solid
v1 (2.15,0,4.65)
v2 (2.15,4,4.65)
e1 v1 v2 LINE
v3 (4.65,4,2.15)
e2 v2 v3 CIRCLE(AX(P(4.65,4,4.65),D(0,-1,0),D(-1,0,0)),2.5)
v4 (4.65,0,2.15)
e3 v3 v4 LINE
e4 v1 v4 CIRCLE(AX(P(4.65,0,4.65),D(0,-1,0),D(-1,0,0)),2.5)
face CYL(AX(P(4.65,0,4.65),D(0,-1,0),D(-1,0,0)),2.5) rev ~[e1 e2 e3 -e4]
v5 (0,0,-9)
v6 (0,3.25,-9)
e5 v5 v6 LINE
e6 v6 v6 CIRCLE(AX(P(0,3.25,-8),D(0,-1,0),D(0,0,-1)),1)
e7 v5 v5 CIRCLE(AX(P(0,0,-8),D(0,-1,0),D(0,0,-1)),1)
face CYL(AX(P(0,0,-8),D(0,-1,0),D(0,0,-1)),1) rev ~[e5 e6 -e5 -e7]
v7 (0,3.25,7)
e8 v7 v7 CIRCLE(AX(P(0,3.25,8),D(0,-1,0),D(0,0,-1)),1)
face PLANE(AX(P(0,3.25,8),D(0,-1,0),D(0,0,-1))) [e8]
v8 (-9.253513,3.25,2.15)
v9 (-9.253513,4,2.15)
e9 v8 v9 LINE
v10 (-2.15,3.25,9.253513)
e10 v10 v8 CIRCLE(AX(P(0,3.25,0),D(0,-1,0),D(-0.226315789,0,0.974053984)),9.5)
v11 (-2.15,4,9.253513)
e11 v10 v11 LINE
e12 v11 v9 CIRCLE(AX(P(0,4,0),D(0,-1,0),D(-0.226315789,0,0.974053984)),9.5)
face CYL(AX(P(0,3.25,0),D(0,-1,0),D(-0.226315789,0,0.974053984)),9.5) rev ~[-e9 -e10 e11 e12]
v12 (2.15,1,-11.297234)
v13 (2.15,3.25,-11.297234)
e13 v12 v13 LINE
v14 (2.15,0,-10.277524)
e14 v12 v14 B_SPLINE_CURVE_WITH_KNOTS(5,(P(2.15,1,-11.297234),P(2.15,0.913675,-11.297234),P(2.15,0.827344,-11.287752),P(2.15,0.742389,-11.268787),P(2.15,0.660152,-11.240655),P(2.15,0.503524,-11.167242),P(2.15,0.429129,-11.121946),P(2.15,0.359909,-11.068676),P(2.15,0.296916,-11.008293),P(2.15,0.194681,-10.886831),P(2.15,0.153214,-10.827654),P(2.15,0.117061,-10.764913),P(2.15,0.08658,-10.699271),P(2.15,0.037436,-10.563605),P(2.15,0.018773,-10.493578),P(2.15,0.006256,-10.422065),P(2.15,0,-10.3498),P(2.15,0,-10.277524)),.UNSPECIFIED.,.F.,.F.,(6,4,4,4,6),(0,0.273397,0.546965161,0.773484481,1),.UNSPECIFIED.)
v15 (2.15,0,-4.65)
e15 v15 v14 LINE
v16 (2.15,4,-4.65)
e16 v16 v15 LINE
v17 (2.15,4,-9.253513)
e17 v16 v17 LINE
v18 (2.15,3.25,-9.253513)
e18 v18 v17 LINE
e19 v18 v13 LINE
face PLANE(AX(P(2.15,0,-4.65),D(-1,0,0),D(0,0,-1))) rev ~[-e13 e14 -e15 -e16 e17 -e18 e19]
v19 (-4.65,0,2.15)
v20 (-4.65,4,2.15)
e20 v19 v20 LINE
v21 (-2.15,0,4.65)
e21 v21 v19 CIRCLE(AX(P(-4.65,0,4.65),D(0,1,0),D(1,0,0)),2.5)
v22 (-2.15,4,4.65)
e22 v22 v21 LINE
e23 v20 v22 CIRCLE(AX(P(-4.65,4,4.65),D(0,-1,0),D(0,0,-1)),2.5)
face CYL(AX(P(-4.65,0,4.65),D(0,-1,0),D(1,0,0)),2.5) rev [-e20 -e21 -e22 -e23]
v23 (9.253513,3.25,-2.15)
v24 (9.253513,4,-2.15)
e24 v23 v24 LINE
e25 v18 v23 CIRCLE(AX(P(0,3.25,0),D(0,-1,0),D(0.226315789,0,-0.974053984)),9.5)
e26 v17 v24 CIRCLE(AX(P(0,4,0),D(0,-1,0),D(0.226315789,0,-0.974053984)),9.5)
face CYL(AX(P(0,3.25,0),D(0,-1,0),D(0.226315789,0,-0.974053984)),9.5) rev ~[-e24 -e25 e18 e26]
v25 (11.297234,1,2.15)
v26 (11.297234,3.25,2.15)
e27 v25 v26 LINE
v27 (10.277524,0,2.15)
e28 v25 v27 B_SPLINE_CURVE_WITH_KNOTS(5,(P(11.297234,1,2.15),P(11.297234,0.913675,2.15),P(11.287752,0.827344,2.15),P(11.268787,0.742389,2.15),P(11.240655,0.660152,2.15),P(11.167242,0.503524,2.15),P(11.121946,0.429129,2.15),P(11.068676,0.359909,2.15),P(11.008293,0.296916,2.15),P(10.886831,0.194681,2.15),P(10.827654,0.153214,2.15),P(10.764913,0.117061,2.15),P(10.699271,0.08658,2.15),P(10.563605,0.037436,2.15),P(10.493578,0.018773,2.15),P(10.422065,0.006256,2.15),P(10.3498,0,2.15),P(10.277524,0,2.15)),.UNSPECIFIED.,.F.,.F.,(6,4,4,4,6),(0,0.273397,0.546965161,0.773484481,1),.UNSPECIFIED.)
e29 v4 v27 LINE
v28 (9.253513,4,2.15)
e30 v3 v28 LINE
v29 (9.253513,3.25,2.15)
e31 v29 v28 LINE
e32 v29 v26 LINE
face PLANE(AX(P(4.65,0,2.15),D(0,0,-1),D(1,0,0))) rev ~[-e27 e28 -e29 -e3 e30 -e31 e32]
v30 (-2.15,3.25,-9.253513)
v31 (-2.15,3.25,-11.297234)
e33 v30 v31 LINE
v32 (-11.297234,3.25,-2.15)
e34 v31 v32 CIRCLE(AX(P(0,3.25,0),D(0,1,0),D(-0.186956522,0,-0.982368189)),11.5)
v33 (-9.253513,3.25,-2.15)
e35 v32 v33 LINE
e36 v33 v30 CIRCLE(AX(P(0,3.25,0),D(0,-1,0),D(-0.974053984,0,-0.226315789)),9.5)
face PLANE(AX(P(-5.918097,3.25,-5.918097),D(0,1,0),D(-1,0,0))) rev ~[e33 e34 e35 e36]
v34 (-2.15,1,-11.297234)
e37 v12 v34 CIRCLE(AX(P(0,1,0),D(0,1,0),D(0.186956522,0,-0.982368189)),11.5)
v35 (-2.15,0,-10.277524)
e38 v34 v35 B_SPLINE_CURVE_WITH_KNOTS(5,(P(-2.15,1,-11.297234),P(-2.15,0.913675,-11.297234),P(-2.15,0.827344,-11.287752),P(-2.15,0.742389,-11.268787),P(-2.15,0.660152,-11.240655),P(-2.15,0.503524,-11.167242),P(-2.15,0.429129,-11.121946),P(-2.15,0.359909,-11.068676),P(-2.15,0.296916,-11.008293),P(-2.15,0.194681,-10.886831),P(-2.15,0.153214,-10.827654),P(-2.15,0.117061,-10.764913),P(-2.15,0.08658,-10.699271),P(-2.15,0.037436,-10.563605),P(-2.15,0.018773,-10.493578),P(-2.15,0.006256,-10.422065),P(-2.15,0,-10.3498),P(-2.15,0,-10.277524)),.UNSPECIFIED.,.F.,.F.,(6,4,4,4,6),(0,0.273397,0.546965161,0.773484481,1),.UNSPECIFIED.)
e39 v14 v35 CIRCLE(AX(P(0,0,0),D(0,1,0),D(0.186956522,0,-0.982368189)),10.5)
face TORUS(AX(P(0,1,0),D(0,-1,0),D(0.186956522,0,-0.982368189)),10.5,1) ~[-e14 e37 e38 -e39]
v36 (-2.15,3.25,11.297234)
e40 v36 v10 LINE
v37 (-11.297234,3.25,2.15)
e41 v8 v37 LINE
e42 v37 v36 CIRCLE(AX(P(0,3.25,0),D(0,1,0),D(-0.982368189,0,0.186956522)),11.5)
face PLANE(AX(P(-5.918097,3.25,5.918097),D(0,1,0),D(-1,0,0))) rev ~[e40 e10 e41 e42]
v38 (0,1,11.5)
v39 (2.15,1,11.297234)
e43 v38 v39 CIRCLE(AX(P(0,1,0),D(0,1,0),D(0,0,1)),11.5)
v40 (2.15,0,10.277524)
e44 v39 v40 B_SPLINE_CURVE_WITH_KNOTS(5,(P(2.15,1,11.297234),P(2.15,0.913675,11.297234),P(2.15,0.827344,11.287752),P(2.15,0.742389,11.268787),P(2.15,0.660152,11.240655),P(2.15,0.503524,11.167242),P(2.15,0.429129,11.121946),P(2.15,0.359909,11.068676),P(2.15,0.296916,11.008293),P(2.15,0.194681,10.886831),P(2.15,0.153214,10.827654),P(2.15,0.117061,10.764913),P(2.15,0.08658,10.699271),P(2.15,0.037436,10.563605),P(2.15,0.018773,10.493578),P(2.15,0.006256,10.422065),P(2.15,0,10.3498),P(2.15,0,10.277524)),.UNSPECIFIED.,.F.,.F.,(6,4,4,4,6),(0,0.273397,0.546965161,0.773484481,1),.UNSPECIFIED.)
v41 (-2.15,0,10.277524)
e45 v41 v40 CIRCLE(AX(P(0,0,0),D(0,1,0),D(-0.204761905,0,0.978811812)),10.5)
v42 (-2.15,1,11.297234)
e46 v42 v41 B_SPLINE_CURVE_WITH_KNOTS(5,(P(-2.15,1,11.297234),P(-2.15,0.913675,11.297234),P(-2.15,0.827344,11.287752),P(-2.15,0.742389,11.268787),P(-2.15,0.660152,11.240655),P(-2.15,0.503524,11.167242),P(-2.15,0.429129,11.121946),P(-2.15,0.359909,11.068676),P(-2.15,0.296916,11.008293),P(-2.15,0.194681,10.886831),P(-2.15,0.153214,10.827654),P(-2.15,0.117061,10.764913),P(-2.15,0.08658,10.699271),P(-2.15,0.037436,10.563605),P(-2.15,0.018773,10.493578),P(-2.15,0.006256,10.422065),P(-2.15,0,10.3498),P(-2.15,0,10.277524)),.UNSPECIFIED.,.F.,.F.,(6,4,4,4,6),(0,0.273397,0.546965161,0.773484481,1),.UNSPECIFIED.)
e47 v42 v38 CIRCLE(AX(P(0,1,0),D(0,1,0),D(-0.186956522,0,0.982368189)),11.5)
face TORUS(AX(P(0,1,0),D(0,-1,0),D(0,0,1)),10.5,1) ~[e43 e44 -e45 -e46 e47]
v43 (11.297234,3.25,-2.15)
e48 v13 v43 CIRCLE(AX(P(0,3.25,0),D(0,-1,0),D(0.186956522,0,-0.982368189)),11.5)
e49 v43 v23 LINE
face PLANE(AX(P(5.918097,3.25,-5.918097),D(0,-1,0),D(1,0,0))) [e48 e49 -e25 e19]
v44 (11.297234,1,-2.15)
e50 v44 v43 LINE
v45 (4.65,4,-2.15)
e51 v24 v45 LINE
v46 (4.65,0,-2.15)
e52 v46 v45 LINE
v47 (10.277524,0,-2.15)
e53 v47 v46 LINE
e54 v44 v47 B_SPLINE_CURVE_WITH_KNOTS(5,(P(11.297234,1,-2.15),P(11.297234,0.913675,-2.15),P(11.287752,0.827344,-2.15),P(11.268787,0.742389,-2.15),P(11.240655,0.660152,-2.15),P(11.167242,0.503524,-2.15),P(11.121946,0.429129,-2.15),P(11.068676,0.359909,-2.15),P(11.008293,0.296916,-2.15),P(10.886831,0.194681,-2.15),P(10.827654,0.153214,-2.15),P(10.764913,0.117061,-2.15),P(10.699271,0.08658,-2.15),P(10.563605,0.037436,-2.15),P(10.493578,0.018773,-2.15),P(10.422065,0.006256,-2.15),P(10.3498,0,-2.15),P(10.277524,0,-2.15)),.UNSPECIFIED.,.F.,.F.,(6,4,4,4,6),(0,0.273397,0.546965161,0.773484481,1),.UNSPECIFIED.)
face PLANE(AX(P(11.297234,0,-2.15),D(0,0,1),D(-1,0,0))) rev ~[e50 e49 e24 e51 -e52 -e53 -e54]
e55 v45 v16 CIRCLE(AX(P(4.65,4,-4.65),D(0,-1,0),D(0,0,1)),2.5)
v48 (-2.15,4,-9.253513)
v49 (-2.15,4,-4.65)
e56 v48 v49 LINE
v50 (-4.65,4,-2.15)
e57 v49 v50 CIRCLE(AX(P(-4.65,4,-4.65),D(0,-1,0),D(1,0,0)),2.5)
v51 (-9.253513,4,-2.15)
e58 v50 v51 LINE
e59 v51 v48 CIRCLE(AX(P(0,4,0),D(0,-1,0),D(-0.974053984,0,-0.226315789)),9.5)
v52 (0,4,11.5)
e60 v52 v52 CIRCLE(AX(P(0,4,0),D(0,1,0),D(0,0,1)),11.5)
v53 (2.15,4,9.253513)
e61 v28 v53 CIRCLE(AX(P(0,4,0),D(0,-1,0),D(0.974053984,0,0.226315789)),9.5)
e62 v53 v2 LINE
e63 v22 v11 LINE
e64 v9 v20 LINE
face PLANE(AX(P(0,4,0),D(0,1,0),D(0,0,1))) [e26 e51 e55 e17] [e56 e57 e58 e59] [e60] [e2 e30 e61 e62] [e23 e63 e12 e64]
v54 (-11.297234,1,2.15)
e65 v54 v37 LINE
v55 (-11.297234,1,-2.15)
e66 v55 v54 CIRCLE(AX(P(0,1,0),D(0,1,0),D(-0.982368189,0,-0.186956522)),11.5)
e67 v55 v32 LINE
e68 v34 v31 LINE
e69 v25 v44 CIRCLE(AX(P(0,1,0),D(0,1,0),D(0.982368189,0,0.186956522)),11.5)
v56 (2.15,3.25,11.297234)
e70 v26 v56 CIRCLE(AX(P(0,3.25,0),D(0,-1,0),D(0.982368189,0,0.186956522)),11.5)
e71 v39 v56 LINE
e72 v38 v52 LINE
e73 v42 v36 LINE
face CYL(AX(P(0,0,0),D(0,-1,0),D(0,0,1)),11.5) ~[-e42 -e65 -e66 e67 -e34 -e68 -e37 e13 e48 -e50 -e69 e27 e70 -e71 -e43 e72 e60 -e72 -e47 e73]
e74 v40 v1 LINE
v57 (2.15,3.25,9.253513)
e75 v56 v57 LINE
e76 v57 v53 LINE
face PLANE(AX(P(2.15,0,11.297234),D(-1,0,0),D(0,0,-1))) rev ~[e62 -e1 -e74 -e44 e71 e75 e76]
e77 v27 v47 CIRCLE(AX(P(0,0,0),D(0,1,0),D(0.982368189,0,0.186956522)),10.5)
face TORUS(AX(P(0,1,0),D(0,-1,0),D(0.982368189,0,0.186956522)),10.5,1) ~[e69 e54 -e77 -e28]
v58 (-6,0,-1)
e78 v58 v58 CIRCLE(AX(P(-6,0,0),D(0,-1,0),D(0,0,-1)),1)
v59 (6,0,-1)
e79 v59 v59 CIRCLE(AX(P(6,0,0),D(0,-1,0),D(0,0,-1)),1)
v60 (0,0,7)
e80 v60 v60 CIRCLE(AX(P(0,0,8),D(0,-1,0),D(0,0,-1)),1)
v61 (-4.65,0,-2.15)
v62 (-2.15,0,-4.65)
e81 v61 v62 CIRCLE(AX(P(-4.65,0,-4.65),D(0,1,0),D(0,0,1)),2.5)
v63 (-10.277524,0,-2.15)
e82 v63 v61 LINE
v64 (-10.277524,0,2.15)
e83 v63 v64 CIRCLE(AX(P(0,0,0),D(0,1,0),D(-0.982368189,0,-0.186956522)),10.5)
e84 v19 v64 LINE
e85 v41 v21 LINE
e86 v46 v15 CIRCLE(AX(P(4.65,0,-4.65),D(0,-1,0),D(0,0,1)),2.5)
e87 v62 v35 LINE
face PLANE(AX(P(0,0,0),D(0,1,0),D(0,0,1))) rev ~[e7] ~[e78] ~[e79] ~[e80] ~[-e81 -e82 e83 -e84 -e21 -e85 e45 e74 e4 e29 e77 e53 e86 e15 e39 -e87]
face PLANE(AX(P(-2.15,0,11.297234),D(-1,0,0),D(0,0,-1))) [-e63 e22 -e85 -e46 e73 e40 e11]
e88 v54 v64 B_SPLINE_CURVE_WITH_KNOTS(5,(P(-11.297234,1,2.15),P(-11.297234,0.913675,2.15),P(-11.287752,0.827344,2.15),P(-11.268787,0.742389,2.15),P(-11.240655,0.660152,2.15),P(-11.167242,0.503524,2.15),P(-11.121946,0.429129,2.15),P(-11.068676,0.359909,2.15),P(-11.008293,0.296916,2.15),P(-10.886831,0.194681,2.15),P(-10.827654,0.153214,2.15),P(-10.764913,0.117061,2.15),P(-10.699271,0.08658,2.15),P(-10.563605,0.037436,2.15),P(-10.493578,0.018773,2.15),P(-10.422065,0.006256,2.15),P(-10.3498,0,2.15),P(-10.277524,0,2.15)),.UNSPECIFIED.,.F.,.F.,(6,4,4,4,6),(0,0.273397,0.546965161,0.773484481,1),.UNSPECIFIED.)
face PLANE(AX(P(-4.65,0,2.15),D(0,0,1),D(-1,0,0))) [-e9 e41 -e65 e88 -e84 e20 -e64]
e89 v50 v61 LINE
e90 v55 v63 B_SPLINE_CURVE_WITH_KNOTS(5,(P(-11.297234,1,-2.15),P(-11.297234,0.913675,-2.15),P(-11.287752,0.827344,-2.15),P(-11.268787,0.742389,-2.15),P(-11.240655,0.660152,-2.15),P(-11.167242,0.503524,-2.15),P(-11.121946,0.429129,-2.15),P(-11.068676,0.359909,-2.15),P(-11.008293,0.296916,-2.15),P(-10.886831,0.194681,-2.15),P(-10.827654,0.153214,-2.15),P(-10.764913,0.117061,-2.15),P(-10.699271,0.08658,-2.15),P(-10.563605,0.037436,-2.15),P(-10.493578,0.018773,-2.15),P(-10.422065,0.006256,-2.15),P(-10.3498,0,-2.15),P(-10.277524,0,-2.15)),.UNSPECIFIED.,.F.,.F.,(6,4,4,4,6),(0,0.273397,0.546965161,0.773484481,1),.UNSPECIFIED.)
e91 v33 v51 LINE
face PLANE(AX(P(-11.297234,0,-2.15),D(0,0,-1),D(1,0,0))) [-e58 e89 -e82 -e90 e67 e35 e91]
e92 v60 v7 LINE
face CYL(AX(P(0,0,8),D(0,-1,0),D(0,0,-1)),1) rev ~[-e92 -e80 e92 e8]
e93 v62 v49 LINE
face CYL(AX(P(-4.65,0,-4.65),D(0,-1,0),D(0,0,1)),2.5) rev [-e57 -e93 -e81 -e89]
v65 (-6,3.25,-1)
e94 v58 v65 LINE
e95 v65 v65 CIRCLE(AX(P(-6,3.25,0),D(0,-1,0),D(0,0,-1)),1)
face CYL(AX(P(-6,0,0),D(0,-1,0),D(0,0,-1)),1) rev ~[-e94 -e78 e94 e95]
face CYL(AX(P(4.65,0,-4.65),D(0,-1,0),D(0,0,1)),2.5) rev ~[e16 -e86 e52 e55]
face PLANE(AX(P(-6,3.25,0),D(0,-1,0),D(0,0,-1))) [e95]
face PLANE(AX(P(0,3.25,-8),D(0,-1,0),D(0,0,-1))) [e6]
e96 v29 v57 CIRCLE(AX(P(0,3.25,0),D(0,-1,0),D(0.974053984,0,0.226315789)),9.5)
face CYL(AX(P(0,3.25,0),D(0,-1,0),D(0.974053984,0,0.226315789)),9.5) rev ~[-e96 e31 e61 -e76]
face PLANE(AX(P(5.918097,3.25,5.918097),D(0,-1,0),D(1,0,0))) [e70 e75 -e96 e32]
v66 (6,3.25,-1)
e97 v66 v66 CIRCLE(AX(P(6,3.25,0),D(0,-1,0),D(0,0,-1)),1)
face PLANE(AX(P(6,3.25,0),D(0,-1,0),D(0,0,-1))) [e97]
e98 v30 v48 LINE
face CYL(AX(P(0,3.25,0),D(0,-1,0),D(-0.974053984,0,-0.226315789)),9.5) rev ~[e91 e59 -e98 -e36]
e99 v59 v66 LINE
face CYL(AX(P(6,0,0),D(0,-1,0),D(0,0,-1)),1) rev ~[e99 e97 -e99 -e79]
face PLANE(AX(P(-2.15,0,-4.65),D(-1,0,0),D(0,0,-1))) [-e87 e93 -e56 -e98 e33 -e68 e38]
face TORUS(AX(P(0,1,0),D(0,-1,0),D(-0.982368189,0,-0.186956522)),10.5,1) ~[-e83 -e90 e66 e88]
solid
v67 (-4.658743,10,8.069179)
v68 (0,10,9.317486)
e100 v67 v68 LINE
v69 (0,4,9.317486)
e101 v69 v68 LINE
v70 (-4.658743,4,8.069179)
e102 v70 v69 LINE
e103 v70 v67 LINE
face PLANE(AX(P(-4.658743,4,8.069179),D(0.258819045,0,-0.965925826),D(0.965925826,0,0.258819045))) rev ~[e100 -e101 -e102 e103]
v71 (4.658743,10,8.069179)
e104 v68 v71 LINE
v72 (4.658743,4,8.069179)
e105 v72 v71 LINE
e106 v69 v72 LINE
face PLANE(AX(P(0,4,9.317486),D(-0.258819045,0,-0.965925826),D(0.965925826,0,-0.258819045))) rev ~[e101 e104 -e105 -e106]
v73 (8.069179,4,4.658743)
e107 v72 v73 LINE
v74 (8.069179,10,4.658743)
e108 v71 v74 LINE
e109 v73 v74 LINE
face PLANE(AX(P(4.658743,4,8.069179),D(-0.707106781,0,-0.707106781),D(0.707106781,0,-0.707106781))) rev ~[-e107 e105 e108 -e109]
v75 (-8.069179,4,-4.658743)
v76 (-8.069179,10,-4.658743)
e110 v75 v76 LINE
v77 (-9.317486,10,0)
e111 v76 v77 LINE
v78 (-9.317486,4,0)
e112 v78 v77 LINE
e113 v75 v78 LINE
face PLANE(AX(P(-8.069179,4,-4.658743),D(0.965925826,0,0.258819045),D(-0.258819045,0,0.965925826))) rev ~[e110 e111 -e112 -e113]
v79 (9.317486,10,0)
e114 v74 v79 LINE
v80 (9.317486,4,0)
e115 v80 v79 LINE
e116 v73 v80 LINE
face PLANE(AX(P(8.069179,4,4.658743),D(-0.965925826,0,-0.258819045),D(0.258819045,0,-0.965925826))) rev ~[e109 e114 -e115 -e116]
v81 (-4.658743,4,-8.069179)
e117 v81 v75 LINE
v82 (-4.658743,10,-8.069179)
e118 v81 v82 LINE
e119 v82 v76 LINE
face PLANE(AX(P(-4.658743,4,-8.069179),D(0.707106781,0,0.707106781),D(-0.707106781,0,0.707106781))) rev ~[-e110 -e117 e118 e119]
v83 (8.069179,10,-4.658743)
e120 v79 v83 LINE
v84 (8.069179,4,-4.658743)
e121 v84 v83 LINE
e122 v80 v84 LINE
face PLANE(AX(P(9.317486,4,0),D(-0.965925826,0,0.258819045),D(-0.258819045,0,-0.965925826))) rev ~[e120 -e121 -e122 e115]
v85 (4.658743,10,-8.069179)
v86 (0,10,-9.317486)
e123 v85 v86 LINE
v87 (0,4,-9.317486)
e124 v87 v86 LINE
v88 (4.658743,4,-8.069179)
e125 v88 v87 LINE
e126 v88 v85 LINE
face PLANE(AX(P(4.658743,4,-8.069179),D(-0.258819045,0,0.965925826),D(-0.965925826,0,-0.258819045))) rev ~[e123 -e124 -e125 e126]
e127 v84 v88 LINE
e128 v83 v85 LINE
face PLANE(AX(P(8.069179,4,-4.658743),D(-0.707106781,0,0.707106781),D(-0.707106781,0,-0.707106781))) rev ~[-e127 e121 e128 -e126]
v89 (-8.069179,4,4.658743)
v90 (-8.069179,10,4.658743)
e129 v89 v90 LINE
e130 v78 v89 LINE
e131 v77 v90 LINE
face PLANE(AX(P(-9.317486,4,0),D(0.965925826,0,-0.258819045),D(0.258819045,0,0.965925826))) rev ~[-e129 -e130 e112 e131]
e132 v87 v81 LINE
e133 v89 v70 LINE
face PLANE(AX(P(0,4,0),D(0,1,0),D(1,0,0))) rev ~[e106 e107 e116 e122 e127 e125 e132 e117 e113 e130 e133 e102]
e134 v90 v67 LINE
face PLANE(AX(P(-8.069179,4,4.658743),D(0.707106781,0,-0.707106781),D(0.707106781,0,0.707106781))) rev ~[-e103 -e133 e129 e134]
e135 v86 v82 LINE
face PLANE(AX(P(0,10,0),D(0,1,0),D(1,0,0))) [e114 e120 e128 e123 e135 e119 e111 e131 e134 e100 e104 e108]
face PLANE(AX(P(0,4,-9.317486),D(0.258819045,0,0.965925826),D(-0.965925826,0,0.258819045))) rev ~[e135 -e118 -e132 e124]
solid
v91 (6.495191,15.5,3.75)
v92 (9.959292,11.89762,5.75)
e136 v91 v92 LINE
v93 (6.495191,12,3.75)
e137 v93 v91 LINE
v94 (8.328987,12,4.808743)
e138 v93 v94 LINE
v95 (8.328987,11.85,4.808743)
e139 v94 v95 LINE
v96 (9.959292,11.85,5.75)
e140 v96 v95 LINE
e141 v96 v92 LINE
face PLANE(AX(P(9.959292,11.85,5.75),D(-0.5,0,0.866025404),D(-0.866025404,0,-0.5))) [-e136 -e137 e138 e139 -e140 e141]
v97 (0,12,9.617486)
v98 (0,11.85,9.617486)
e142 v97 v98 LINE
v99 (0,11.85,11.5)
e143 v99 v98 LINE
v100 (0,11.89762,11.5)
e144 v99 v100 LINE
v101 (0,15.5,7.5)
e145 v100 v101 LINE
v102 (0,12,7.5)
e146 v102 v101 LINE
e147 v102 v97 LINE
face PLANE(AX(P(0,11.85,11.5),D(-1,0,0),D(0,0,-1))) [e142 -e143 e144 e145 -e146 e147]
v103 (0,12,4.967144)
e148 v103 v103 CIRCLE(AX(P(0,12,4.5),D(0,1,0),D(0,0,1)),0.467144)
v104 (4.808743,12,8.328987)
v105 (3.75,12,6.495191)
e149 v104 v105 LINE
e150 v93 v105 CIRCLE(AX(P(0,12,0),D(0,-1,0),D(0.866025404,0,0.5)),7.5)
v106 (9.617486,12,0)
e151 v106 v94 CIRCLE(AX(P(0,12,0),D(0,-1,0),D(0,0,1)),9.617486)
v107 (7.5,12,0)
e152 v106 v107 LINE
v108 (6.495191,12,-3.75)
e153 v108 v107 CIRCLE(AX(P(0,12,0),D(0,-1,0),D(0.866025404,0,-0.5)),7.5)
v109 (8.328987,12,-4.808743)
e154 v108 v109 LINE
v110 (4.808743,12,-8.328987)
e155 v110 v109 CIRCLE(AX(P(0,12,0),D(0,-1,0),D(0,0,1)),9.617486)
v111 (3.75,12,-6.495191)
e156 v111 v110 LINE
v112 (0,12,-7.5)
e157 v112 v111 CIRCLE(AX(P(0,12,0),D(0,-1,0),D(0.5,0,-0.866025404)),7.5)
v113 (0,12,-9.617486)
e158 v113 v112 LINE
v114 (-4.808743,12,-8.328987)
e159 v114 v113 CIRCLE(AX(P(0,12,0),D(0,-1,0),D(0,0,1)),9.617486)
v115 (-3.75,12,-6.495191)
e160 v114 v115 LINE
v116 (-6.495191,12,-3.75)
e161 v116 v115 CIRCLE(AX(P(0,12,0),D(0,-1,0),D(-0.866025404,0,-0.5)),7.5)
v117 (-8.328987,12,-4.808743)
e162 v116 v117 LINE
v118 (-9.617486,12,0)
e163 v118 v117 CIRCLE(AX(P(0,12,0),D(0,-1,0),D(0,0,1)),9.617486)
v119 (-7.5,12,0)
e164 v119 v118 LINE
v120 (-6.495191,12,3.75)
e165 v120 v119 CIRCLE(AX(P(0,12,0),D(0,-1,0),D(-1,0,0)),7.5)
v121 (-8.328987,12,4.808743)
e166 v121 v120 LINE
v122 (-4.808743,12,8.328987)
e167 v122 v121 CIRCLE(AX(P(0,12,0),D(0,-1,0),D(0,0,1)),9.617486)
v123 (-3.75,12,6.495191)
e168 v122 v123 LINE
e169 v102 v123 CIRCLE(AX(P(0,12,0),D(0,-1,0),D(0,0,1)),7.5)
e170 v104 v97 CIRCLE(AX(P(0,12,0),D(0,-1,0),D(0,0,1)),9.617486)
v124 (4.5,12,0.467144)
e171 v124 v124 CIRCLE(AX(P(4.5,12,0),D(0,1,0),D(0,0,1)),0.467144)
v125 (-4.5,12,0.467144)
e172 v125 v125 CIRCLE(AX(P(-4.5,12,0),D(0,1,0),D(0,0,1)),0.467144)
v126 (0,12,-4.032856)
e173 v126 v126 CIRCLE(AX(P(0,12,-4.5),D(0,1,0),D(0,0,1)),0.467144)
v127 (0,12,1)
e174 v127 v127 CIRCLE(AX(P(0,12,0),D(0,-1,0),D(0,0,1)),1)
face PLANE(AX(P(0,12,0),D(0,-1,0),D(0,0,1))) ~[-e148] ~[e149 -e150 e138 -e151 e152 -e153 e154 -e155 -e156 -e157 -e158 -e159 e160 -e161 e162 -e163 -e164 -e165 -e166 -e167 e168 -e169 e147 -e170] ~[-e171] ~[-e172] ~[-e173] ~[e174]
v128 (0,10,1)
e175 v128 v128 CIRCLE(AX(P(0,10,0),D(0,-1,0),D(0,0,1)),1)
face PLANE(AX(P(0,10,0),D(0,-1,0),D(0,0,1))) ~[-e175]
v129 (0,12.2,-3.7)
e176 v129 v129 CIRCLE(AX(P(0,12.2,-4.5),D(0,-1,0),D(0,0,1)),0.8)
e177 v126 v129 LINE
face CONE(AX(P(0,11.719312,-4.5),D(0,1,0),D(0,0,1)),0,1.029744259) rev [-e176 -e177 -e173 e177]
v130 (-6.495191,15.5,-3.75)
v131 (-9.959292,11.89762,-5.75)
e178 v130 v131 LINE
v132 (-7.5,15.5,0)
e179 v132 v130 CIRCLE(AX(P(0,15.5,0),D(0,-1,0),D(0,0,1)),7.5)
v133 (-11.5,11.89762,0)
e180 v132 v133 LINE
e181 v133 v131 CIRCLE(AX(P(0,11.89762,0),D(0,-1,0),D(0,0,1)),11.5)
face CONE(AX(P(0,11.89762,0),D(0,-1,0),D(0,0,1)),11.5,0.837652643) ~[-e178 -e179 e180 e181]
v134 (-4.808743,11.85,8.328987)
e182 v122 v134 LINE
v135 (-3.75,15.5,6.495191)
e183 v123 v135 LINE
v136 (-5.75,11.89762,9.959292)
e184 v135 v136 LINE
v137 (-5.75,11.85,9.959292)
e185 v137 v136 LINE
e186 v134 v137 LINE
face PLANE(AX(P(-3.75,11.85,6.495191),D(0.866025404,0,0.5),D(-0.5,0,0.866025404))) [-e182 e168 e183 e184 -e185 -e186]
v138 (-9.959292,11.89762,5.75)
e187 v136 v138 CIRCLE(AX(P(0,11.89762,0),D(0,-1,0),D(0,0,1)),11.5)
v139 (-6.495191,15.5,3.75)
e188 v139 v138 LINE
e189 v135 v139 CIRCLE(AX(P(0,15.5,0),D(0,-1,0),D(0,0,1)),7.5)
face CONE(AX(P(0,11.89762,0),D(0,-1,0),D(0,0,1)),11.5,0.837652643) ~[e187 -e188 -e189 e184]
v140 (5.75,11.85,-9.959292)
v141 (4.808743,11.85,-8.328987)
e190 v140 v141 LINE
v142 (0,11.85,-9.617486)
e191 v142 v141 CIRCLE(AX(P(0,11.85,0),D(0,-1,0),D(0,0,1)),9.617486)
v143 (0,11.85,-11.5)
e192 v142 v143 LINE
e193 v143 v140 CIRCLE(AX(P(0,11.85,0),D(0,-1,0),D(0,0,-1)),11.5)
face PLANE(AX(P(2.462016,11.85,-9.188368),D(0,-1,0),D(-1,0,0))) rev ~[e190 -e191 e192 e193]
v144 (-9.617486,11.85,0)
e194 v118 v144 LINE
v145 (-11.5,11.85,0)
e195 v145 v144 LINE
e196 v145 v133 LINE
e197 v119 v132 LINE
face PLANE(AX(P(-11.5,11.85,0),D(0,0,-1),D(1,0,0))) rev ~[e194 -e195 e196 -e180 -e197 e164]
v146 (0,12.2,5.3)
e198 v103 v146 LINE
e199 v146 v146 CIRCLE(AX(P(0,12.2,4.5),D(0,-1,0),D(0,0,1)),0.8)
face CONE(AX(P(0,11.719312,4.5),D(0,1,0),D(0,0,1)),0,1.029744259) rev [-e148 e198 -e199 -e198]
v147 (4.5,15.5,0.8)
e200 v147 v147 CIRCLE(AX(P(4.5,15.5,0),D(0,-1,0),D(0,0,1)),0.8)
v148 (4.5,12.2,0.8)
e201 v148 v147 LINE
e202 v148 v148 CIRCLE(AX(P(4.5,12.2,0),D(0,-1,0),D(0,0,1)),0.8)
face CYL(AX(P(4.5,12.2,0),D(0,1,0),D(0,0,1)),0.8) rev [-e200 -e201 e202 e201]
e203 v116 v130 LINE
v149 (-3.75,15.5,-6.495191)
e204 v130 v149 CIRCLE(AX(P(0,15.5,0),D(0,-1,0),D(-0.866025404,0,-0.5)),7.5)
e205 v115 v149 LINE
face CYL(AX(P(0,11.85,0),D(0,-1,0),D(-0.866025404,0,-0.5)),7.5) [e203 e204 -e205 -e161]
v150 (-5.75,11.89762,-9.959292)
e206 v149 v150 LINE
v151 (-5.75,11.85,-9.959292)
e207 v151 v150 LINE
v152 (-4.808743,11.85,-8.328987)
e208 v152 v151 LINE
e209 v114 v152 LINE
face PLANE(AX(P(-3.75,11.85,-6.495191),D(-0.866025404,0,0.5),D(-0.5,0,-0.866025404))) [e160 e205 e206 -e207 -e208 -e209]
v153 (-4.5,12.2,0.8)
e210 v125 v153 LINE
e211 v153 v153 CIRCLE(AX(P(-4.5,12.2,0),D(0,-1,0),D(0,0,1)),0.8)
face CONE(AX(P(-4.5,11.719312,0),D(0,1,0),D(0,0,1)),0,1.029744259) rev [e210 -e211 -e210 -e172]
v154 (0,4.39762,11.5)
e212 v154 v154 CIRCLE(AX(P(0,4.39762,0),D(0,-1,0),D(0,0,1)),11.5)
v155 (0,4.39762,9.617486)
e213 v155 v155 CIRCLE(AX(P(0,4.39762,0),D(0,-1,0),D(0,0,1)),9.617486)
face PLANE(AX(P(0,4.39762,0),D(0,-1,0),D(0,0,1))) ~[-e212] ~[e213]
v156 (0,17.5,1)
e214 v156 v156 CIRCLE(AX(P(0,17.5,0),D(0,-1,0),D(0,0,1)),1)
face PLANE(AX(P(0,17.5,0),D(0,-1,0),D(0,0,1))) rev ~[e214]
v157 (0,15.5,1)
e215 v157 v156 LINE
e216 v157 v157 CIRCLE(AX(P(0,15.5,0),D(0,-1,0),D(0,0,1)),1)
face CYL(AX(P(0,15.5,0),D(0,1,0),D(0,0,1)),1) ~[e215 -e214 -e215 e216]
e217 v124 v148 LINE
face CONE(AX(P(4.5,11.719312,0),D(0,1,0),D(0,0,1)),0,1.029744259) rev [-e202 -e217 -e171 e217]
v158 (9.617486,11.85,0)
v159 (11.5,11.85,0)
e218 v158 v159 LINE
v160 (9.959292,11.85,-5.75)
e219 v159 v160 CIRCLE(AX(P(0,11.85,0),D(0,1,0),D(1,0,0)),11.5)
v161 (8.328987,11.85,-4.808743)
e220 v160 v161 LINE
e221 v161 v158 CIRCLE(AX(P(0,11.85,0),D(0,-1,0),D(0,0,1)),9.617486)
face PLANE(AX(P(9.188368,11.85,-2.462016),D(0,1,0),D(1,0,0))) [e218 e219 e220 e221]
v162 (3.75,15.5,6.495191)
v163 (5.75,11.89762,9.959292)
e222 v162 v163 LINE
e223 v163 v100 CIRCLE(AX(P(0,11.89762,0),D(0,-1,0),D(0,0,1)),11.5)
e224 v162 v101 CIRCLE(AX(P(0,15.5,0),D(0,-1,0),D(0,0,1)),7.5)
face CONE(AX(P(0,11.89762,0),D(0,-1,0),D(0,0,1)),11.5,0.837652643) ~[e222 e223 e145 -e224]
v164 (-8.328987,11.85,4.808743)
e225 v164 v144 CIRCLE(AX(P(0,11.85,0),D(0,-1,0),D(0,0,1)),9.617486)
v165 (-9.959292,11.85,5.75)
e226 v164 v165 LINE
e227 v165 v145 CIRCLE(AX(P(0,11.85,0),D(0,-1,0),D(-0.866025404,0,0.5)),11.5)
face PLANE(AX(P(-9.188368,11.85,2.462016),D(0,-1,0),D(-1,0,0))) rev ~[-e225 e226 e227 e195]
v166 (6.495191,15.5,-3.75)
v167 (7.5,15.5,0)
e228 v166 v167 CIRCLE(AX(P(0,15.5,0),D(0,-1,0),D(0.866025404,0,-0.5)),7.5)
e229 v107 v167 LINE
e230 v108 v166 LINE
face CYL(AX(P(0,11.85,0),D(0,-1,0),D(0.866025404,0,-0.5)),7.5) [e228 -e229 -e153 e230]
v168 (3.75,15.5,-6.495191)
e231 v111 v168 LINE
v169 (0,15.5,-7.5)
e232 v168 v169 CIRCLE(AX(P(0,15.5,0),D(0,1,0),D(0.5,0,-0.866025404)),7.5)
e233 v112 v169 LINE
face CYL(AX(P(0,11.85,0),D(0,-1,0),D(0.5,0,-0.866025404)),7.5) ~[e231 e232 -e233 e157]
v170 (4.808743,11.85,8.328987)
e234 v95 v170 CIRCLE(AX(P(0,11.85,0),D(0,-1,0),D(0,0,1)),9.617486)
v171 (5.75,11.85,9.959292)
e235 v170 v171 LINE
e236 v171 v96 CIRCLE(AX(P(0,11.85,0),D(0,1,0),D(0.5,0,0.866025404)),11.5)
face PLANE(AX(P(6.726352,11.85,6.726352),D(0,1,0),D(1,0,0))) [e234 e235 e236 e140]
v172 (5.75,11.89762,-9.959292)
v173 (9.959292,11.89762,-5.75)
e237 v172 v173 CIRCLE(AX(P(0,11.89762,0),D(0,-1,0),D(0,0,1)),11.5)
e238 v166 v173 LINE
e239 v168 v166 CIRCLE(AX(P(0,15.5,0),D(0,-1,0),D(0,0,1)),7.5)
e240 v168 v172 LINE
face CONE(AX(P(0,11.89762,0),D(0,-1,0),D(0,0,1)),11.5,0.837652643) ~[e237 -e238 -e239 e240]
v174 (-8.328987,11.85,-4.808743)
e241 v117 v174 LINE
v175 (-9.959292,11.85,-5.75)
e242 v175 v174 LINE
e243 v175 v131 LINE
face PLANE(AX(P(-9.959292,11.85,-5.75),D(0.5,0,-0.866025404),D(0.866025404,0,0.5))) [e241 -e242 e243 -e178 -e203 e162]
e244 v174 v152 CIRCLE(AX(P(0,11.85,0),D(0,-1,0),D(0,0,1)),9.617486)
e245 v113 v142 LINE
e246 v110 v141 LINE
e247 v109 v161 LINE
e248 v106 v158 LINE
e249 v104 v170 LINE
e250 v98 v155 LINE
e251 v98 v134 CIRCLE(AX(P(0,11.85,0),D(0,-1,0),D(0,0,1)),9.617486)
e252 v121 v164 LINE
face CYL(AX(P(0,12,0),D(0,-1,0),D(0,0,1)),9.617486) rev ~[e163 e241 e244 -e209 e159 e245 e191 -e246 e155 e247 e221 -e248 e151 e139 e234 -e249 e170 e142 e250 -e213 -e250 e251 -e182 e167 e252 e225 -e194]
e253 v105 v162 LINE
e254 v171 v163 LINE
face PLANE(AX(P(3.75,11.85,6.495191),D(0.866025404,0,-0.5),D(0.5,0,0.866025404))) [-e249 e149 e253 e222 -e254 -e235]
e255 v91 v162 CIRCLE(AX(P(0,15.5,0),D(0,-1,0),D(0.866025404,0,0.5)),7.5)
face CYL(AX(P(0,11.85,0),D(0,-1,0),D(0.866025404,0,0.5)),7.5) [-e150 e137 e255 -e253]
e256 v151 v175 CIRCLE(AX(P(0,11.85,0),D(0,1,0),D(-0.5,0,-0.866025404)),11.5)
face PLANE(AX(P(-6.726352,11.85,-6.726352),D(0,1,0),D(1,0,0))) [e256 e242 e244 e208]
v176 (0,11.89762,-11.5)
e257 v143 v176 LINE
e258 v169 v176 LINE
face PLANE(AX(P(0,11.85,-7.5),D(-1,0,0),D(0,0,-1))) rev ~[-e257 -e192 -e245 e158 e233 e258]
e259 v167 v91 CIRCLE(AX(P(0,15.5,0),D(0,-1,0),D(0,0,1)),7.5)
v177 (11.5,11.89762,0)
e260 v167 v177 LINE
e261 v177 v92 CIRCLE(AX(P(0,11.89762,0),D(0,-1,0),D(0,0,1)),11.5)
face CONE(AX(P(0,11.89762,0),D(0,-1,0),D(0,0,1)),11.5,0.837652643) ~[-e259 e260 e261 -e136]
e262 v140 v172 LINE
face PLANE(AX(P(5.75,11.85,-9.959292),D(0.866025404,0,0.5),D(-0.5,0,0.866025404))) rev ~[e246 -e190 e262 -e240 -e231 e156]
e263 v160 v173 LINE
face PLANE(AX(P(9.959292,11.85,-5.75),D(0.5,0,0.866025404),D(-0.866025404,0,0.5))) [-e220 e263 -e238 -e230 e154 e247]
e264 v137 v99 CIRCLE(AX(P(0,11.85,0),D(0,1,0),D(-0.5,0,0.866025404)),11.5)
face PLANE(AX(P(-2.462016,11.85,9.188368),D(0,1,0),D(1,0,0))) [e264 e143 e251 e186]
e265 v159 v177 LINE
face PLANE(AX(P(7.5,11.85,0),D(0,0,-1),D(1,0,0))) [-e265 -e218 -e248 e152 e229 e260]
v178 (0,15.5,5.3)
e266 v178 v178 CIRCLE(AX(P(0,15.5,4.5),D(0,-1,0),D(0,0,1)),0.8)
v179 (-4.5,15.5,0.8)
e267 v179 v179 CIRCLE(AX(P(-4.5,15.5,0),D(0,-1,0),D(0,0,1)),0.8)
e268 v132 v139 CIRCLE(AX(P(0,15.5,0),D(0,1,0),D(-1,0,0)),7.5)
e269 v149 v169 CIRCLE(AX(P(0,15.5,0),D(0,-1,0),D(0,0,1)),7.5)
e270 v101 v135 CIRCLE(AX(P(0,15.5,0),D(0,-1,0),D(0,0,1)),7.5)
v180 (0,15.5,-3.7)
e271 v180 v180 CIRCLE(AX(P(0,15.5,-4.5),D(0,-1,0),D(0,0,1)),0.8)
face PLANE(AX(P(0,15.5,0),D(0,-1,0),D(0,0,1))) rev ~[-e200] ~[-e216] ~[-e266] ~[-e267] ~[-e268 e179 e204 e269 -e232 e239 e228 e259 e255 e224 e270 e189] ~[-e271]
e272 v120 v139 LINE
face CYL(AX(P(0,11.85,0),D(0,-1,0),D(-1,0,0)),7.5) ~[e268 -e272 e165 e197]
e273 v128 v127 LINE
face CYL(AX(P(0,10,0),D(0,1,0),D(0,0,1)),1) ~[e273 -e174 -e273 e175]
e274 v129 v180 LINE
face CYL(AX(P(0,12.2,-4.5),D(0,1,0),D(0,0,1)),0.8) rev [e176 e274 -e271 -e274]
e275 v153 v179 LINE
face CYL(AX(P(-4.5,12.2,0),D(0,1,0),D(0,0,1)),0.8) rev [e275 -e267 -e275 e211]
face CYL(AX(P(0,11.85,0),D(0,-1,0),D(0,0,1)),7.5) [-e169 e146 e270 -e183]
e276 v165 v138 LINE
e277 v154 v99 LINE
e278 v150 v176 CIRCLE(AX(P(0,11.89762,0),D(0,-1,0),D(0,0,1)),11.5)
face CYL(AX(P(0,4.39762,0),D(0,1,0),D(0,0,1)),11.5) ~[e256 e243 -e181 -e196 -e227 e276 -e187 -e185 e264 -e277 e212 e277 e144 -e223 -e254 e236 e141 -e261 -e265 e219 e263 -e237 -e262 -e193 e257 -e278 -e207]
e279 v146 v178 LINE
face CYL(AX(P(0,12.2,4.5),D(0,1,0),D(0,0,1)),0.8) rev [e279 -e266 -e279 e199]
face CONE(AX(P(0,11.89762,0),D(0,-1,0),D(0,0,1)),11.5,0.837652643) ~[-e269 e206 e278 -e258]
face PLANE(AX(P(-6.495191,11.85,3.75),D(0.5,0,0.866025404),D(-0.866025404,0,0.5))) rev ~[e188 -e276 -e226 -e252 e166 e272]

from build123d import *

# Parameters (mm, degrees)
SKETCH1_R                  = 11.5
BOSS_EXTRUDE1_DEPTH        = 4
BOSS_EXTRUDE2_DEPTH        = 6
SKETCH3_R                  = 1
CUT_EXTRUDE1_DEPTH         = 3.25
CUT_EXTRUDE2_START         = -3.65
CUT_EXTRUDE2_DEPTH         = 3.65
CUT_EXTRUDE3_DEPTH         = 0.75
FILLET1_R                  = 1
M2_TAPPED_HOLE1_AT_2_COUNT = 2
M2_TAPPED_HOLE1_AT_2_PITCH = 6.363961031
M2_TAPPED_HOLE1_AT_3_COUNT = 2
M2_TAPPED_HOLE1_AT_3_PITCH = 9
M2_TAPPED_HOLE1_AT_4_COUNT = 2
M2_TAPPED_HOLE1_AT_4_PITCH = 6.363961031


with BuildPart() as part:
    # Sketch1 → Boss-Extrude1 (new body)
    with BuildSketch(Plane(origin=(0, 0, 0), x_dir=(1, 0, 0), z_dir=(0, 1, 0))):
        with Locations(Location((0, 0, 0), (0, 0, 270))):
            Circle(SKETCH1_R)
    extrude(amount=BOSS_EXTRUDE1_DEPTH)

    # Sketch3 → Cut-Extrude1 (cut)
    with BuildSketch(Plane.XZ):
        with Locations(Location((0, 8, 0), (0, 0, 270))):
            Circle(SKETCH3_R)
        with Locations(Location((6, 0, 0), (0, 0, 270))):
            Circle(SKETCH3_R)
        with Locations(Location((0, -8, 0), (0, 0, 270))):
            Circle(SKETCH3_R)
        with Locations(Location((-6, 0, 0), (0, 0, 270))):
            Circle(SKETCH3_R)
        with BuildLine():
            Line((-2.15, 11.297234175), (-2.15, 4.65))
            ThreePointArc((-2.15, 4.65), (-2.882233047, 2.882233047), (-4.65, 2.15))
            Line((-4.65, 2.15), (-11.297234175, 2.15))
            ThreePointArc((-11.297234175, 2.15), (-8.131727984, 8.131727984), (-2.15, 11.297234175))
        make_face()
        with BuildLine():
            Line((2.15, 11.297234175), (2.15, 4.65))
            ThreePointArc((2.15, 4.65), (2.882233047, 2.882233047), (4.65, 2.15))
            Line((4.65, 2.15), (11.297234175, 2.15))
            ThreePointArc((11.297234175, 2.15), (8.131727984, 8.131727984), (2.15, 11.297234175))
        make_face()
        with BuildLine():
            Line((11.297234175, -2.15), (4.65, -2.15))
            ThreePointArc((4.65, -2.15), (2.882233047, -2.882233047), (2.15, -4.65))
            Line((2.15, -4.65), (2.15, -11.297234175))
            ThreePointArc((2.15, -11.297234175), (8.131727984, -8.131727984), (11.297234175, -2.15))
        make_face()
        with BuildLine():
            Line((-2.15, -4.65), (-2.15, -11.297234175))
            ThreePointArc((-2.15, -11.297234175), (-8.131727984, -8.131727984), (-11.297234175, -2.15))
            Line((-11.297234175, -2.15), (-4.65, -2.15))
            ThreePointArc((-4.65, -2.15), (-2.882233047, -2.882233047), (-2.15, -4.65))
        make_face()
    extrude(amount=-CUT_EXTRUDE1_DEPTH, mode=Mode.SUBTRACT)

    # Sketch9 → Cut-Extrude3 (cut)
    with BuildSketch(Plane.XZ.offset(-3.25)):
        with BuildLine():
            Line((-4.65, -2.15), (-9.253512846, -2.15))
            ThreePointArc((-9.253512846, -2.15), (-6.717514421, -6.717514421), (-2.15, -9.253512846))
            Line((-2.15, -9.253512846), (-2.15, -4.65))
            ThreePointArc((-2.15, -4.65), (-2.882233047, -2.882233047), (-4.65, -2.15))
        make_face()
        with BuildLine():
            Line((2.15, -4.65), (2.15, -9.253512846))
            ThreePointArc((2.15, -9.253512846), (6.717514421, -6.717514421), (9.253512846, -2.15))
            Line((9.253512846, -2.15), (4.65, -2.15))
            ThreePointArc((4.65, -2.15), (2.882233047, -2.882233047), (2.15, -4.65))
        make_face()
        with BuildLine():
            Line((4.65, 2.15), (9.253512846, 2.15))
            ThreePointArc((9.253512846, 2.15), (6.717514421, 6.717514421), (2.15, 9.253512846))
            Line((2.15, 9.253512846), (2.15, 4.65))
            ThreePointArc((2.15, 4.65), (2.882233047, 2.882233047), (4.65, 2.15))
        make_face()
        with BuildLine():
            Line((-2.15, 4.65), (-2.15, 9.253512846))
            ThreePointArc((-2.15, 9.253512846), (-6.717514421, 6.717514421), (-9.253512846, 2.15))
            Line((-9.253512846, 2.15), (-4.65, 2.15))
            ThreePointArc((-4.65, 2.15), (-2.882233047, 2.882233047), (-2.15, 4.65))
        make_face()
    extrude(amount=-CUT_EXTRUDE3_DEPTH, mode=Mode.SUBTRACT)

    # Fillet1
    fillet1_edges = [part.edges().sort_by_distance(p)[0] for p in [
        (11.5, 0, 0),
        (0, 0, -11.5),
        (-11.5, 0, 0),
        (1.079770112, 0, 11.449196326),
    ]]
    fillet(fillet1_edges, radius=FILLET1_R)


with BuildPart() as body_2:
    # Sketch2 → Boss-Extrude2 (new body)
    with BuildSketch(Plane(origin=(0, 4, 0), x_dir=(1, 0, 0), z_dir=(0, 1, 0))):
        Polygon((0, -9.317485624), (4.658742812, -8.06917925), (8.06917925, -4.658742812), (9.317485624, 0), (8.06917925, 4.658742812), (4.658742812, 8.06917925), (0, 9.317485624), (-4.658742812, 8.06917925), (-8.06917925, 4.658742812), (-9.317485624, 0), (-8.06917925, -4.658742812), (-4.658742812, -8.06917925), align=None)
    extrude(amount=BOSS_EXTRUDE2_DEPTH)


with BuildPart() as body_3:
    # Sketch4 → Revolve2 (revolve)
    with BuildSketch(Plane(origin=(0, 0, 0), x_dir=(0, 0, -1), z_dir=(1, 0, 0))):
        Polygon((-11.5, 4.397620361), (-11.5, 11.897620361), (-7.5, 15.5), (-1, 15.5), (-1, 17.5), (0, 17.5), (0, 15.5), (0, 11), (0, 10), (-1, 10), (-1, 12), (-9.617485624, 12), (-9.617485624, 4.397620361), align=None)
    revolve(axis=Axis((0, 19.11668492, 0), (0, -1, 0)))

    # Sketch6 → Cut-Extrude2 (cut)
    with BuildSketch(Plane(origin=(0, 15.5, 0), x_dir=(1, 0, 0), z_dir=(0, 1, 0)).offset(CUT_EXTRUDE2_START)):
        with BuildLine():
            Line((0, 7.5), (0, 11.5))
            ThreePointArc((0, 11.5), (2.976419019, 11.108147002), (5.75, 9.959292144))
            Line((5.75, 9.959292144), (3.75, 6.495190528))
            ThreePointArc((3.75, 6.495190528), (1.941142838, 7.244443697), (0, 7.5))
        make_face()
        with BuildLine():
            Line((-3.75, 6.495190528), (-5.75, 9.959292144))
            ThreePointArc((-5.75, 9.959292144), (-8.131727984, 8.131727984), (-9.959292144, 5.75))
            Line((-9.959292144, 5.75), (-6.495190528, 3.75))
            ThreePointArc((-6.495190528, 3.75), (-5.303300859, 5.303300859), (-3.75, 6.495190528))
        make_face()
        with BuildLine():
            Line((-11.5, 0), (-7.5, 0))
            ThreePointArc((-7.5, 0), (-7.244443697, -1.941142838), (-6.495190528, -3.75))
            Line((-6.495190528, -3.75), (-9.959292144, -5.75))
            ThreePointArc((-9.959292144, -5.75), (-11.108147002, -2.976419019), (-11.5, 0))
        make_face()
        with BuildLine():
            Line((-3.75, -6.495190528), (-5.75, -9.959292144))
            ThreePointArc((-5.75, -9.959292144), (-2.976419019, -11.108147002), (0, -11.5))
            Line((0, -11.5), (0, -7.5))
            ThreePointArc((0, -7.5), (-1.941142838, -7.244443697), (-3.75, -6.495190528))
        make_face()
        with BuildLine():
            Line((3.75, -6.495190528), (5.75, -9.959292144))
            ThreePointArc((5.75, -9.959292144), (8.131727984, -8.131727984), (9.959292144, -5.75))
            Line((9.959292144, -5.75), (6.495190528, -3.75))
            ThreePointArc((6.495190528, -3.75), (5.303300859, -5.303300859), (3.75, -6.495190528))
        make_face()
        with BuildLine():
            Line((7.5, 0), (11.5, 0))
            ThreePointArc((11.5, 0), (11.108147002, 2.976419019), (9.959292144, 5.75))
            Line((9.959292144, 5.75), (6.495190528, 3.75))
            ThreePointArc((6.495190528, 3.75), (7.244443697, 1.941142838), (7.5, 0))
        make_face()
    extrude(amount=CUT_EXTRUDE2_DEPTH, mode=Mode.SUBTRACT)

    # Sketch10 → M2 Tapped Hole1 (revolve, cut)
    with BuildSketch(Plane(origin=(-4.5, 15.5, 0), x_dir=(0, 0, 1), z_dir=(1, 0, 0))):
        Polygon((0, 0), (0, 3.780688495), (0.8, 3.3), (0.8, 0), align=None)
    m2_tapped_hole1 = revolve(axis=Axis((-4.5, 21.85, 0), (0, -1, 0)), mode=Mode.SUBTRACT)

    # M2 Tapped Hole1 at 2: M2 Tapped Hole1 ×2
    with Locations(*[Vector(0.7071067811865475, 0, -0.7071067811865477) * (i * M2_TAPPED_HOLE1_AT_2_PITCH) for i in range(1, M2_TAPPED_HOLE1_AT_2_COUNT)]):
        add(m2_tapped_hole1, mode=Mode.SUBTRACT)

    # M2 Tapped Hole1 at 3: M2 Tapped Hole1 ×2
    with Locations(*[(i * M2_TAPPED_HOLE1_AT_3_PITCH, 0, 0) for i in range(1, M2_TAPPED_HOLE1_AT_3_COUNT)]):
        add(m2_tapped_hole1, mode=Mode.SUBTRACT)

    # M2 Tapped Hole1 at 4: M2 Tapped Hole1 ×2
    with Locations(*[Vector(0.7071067811865475, 0, 0.7071067811865477) * (i * M2_TAPPED_HOLE1_AT_4_PITCH) for i in range(1, M2_TAPPED_HOLE1_AT_4_COUNT)]):
        add(m2_tapped_hole1, mode=Mode.SUBTRACT)


solid = Compound([part.part, body_2.part, body_3.part])
